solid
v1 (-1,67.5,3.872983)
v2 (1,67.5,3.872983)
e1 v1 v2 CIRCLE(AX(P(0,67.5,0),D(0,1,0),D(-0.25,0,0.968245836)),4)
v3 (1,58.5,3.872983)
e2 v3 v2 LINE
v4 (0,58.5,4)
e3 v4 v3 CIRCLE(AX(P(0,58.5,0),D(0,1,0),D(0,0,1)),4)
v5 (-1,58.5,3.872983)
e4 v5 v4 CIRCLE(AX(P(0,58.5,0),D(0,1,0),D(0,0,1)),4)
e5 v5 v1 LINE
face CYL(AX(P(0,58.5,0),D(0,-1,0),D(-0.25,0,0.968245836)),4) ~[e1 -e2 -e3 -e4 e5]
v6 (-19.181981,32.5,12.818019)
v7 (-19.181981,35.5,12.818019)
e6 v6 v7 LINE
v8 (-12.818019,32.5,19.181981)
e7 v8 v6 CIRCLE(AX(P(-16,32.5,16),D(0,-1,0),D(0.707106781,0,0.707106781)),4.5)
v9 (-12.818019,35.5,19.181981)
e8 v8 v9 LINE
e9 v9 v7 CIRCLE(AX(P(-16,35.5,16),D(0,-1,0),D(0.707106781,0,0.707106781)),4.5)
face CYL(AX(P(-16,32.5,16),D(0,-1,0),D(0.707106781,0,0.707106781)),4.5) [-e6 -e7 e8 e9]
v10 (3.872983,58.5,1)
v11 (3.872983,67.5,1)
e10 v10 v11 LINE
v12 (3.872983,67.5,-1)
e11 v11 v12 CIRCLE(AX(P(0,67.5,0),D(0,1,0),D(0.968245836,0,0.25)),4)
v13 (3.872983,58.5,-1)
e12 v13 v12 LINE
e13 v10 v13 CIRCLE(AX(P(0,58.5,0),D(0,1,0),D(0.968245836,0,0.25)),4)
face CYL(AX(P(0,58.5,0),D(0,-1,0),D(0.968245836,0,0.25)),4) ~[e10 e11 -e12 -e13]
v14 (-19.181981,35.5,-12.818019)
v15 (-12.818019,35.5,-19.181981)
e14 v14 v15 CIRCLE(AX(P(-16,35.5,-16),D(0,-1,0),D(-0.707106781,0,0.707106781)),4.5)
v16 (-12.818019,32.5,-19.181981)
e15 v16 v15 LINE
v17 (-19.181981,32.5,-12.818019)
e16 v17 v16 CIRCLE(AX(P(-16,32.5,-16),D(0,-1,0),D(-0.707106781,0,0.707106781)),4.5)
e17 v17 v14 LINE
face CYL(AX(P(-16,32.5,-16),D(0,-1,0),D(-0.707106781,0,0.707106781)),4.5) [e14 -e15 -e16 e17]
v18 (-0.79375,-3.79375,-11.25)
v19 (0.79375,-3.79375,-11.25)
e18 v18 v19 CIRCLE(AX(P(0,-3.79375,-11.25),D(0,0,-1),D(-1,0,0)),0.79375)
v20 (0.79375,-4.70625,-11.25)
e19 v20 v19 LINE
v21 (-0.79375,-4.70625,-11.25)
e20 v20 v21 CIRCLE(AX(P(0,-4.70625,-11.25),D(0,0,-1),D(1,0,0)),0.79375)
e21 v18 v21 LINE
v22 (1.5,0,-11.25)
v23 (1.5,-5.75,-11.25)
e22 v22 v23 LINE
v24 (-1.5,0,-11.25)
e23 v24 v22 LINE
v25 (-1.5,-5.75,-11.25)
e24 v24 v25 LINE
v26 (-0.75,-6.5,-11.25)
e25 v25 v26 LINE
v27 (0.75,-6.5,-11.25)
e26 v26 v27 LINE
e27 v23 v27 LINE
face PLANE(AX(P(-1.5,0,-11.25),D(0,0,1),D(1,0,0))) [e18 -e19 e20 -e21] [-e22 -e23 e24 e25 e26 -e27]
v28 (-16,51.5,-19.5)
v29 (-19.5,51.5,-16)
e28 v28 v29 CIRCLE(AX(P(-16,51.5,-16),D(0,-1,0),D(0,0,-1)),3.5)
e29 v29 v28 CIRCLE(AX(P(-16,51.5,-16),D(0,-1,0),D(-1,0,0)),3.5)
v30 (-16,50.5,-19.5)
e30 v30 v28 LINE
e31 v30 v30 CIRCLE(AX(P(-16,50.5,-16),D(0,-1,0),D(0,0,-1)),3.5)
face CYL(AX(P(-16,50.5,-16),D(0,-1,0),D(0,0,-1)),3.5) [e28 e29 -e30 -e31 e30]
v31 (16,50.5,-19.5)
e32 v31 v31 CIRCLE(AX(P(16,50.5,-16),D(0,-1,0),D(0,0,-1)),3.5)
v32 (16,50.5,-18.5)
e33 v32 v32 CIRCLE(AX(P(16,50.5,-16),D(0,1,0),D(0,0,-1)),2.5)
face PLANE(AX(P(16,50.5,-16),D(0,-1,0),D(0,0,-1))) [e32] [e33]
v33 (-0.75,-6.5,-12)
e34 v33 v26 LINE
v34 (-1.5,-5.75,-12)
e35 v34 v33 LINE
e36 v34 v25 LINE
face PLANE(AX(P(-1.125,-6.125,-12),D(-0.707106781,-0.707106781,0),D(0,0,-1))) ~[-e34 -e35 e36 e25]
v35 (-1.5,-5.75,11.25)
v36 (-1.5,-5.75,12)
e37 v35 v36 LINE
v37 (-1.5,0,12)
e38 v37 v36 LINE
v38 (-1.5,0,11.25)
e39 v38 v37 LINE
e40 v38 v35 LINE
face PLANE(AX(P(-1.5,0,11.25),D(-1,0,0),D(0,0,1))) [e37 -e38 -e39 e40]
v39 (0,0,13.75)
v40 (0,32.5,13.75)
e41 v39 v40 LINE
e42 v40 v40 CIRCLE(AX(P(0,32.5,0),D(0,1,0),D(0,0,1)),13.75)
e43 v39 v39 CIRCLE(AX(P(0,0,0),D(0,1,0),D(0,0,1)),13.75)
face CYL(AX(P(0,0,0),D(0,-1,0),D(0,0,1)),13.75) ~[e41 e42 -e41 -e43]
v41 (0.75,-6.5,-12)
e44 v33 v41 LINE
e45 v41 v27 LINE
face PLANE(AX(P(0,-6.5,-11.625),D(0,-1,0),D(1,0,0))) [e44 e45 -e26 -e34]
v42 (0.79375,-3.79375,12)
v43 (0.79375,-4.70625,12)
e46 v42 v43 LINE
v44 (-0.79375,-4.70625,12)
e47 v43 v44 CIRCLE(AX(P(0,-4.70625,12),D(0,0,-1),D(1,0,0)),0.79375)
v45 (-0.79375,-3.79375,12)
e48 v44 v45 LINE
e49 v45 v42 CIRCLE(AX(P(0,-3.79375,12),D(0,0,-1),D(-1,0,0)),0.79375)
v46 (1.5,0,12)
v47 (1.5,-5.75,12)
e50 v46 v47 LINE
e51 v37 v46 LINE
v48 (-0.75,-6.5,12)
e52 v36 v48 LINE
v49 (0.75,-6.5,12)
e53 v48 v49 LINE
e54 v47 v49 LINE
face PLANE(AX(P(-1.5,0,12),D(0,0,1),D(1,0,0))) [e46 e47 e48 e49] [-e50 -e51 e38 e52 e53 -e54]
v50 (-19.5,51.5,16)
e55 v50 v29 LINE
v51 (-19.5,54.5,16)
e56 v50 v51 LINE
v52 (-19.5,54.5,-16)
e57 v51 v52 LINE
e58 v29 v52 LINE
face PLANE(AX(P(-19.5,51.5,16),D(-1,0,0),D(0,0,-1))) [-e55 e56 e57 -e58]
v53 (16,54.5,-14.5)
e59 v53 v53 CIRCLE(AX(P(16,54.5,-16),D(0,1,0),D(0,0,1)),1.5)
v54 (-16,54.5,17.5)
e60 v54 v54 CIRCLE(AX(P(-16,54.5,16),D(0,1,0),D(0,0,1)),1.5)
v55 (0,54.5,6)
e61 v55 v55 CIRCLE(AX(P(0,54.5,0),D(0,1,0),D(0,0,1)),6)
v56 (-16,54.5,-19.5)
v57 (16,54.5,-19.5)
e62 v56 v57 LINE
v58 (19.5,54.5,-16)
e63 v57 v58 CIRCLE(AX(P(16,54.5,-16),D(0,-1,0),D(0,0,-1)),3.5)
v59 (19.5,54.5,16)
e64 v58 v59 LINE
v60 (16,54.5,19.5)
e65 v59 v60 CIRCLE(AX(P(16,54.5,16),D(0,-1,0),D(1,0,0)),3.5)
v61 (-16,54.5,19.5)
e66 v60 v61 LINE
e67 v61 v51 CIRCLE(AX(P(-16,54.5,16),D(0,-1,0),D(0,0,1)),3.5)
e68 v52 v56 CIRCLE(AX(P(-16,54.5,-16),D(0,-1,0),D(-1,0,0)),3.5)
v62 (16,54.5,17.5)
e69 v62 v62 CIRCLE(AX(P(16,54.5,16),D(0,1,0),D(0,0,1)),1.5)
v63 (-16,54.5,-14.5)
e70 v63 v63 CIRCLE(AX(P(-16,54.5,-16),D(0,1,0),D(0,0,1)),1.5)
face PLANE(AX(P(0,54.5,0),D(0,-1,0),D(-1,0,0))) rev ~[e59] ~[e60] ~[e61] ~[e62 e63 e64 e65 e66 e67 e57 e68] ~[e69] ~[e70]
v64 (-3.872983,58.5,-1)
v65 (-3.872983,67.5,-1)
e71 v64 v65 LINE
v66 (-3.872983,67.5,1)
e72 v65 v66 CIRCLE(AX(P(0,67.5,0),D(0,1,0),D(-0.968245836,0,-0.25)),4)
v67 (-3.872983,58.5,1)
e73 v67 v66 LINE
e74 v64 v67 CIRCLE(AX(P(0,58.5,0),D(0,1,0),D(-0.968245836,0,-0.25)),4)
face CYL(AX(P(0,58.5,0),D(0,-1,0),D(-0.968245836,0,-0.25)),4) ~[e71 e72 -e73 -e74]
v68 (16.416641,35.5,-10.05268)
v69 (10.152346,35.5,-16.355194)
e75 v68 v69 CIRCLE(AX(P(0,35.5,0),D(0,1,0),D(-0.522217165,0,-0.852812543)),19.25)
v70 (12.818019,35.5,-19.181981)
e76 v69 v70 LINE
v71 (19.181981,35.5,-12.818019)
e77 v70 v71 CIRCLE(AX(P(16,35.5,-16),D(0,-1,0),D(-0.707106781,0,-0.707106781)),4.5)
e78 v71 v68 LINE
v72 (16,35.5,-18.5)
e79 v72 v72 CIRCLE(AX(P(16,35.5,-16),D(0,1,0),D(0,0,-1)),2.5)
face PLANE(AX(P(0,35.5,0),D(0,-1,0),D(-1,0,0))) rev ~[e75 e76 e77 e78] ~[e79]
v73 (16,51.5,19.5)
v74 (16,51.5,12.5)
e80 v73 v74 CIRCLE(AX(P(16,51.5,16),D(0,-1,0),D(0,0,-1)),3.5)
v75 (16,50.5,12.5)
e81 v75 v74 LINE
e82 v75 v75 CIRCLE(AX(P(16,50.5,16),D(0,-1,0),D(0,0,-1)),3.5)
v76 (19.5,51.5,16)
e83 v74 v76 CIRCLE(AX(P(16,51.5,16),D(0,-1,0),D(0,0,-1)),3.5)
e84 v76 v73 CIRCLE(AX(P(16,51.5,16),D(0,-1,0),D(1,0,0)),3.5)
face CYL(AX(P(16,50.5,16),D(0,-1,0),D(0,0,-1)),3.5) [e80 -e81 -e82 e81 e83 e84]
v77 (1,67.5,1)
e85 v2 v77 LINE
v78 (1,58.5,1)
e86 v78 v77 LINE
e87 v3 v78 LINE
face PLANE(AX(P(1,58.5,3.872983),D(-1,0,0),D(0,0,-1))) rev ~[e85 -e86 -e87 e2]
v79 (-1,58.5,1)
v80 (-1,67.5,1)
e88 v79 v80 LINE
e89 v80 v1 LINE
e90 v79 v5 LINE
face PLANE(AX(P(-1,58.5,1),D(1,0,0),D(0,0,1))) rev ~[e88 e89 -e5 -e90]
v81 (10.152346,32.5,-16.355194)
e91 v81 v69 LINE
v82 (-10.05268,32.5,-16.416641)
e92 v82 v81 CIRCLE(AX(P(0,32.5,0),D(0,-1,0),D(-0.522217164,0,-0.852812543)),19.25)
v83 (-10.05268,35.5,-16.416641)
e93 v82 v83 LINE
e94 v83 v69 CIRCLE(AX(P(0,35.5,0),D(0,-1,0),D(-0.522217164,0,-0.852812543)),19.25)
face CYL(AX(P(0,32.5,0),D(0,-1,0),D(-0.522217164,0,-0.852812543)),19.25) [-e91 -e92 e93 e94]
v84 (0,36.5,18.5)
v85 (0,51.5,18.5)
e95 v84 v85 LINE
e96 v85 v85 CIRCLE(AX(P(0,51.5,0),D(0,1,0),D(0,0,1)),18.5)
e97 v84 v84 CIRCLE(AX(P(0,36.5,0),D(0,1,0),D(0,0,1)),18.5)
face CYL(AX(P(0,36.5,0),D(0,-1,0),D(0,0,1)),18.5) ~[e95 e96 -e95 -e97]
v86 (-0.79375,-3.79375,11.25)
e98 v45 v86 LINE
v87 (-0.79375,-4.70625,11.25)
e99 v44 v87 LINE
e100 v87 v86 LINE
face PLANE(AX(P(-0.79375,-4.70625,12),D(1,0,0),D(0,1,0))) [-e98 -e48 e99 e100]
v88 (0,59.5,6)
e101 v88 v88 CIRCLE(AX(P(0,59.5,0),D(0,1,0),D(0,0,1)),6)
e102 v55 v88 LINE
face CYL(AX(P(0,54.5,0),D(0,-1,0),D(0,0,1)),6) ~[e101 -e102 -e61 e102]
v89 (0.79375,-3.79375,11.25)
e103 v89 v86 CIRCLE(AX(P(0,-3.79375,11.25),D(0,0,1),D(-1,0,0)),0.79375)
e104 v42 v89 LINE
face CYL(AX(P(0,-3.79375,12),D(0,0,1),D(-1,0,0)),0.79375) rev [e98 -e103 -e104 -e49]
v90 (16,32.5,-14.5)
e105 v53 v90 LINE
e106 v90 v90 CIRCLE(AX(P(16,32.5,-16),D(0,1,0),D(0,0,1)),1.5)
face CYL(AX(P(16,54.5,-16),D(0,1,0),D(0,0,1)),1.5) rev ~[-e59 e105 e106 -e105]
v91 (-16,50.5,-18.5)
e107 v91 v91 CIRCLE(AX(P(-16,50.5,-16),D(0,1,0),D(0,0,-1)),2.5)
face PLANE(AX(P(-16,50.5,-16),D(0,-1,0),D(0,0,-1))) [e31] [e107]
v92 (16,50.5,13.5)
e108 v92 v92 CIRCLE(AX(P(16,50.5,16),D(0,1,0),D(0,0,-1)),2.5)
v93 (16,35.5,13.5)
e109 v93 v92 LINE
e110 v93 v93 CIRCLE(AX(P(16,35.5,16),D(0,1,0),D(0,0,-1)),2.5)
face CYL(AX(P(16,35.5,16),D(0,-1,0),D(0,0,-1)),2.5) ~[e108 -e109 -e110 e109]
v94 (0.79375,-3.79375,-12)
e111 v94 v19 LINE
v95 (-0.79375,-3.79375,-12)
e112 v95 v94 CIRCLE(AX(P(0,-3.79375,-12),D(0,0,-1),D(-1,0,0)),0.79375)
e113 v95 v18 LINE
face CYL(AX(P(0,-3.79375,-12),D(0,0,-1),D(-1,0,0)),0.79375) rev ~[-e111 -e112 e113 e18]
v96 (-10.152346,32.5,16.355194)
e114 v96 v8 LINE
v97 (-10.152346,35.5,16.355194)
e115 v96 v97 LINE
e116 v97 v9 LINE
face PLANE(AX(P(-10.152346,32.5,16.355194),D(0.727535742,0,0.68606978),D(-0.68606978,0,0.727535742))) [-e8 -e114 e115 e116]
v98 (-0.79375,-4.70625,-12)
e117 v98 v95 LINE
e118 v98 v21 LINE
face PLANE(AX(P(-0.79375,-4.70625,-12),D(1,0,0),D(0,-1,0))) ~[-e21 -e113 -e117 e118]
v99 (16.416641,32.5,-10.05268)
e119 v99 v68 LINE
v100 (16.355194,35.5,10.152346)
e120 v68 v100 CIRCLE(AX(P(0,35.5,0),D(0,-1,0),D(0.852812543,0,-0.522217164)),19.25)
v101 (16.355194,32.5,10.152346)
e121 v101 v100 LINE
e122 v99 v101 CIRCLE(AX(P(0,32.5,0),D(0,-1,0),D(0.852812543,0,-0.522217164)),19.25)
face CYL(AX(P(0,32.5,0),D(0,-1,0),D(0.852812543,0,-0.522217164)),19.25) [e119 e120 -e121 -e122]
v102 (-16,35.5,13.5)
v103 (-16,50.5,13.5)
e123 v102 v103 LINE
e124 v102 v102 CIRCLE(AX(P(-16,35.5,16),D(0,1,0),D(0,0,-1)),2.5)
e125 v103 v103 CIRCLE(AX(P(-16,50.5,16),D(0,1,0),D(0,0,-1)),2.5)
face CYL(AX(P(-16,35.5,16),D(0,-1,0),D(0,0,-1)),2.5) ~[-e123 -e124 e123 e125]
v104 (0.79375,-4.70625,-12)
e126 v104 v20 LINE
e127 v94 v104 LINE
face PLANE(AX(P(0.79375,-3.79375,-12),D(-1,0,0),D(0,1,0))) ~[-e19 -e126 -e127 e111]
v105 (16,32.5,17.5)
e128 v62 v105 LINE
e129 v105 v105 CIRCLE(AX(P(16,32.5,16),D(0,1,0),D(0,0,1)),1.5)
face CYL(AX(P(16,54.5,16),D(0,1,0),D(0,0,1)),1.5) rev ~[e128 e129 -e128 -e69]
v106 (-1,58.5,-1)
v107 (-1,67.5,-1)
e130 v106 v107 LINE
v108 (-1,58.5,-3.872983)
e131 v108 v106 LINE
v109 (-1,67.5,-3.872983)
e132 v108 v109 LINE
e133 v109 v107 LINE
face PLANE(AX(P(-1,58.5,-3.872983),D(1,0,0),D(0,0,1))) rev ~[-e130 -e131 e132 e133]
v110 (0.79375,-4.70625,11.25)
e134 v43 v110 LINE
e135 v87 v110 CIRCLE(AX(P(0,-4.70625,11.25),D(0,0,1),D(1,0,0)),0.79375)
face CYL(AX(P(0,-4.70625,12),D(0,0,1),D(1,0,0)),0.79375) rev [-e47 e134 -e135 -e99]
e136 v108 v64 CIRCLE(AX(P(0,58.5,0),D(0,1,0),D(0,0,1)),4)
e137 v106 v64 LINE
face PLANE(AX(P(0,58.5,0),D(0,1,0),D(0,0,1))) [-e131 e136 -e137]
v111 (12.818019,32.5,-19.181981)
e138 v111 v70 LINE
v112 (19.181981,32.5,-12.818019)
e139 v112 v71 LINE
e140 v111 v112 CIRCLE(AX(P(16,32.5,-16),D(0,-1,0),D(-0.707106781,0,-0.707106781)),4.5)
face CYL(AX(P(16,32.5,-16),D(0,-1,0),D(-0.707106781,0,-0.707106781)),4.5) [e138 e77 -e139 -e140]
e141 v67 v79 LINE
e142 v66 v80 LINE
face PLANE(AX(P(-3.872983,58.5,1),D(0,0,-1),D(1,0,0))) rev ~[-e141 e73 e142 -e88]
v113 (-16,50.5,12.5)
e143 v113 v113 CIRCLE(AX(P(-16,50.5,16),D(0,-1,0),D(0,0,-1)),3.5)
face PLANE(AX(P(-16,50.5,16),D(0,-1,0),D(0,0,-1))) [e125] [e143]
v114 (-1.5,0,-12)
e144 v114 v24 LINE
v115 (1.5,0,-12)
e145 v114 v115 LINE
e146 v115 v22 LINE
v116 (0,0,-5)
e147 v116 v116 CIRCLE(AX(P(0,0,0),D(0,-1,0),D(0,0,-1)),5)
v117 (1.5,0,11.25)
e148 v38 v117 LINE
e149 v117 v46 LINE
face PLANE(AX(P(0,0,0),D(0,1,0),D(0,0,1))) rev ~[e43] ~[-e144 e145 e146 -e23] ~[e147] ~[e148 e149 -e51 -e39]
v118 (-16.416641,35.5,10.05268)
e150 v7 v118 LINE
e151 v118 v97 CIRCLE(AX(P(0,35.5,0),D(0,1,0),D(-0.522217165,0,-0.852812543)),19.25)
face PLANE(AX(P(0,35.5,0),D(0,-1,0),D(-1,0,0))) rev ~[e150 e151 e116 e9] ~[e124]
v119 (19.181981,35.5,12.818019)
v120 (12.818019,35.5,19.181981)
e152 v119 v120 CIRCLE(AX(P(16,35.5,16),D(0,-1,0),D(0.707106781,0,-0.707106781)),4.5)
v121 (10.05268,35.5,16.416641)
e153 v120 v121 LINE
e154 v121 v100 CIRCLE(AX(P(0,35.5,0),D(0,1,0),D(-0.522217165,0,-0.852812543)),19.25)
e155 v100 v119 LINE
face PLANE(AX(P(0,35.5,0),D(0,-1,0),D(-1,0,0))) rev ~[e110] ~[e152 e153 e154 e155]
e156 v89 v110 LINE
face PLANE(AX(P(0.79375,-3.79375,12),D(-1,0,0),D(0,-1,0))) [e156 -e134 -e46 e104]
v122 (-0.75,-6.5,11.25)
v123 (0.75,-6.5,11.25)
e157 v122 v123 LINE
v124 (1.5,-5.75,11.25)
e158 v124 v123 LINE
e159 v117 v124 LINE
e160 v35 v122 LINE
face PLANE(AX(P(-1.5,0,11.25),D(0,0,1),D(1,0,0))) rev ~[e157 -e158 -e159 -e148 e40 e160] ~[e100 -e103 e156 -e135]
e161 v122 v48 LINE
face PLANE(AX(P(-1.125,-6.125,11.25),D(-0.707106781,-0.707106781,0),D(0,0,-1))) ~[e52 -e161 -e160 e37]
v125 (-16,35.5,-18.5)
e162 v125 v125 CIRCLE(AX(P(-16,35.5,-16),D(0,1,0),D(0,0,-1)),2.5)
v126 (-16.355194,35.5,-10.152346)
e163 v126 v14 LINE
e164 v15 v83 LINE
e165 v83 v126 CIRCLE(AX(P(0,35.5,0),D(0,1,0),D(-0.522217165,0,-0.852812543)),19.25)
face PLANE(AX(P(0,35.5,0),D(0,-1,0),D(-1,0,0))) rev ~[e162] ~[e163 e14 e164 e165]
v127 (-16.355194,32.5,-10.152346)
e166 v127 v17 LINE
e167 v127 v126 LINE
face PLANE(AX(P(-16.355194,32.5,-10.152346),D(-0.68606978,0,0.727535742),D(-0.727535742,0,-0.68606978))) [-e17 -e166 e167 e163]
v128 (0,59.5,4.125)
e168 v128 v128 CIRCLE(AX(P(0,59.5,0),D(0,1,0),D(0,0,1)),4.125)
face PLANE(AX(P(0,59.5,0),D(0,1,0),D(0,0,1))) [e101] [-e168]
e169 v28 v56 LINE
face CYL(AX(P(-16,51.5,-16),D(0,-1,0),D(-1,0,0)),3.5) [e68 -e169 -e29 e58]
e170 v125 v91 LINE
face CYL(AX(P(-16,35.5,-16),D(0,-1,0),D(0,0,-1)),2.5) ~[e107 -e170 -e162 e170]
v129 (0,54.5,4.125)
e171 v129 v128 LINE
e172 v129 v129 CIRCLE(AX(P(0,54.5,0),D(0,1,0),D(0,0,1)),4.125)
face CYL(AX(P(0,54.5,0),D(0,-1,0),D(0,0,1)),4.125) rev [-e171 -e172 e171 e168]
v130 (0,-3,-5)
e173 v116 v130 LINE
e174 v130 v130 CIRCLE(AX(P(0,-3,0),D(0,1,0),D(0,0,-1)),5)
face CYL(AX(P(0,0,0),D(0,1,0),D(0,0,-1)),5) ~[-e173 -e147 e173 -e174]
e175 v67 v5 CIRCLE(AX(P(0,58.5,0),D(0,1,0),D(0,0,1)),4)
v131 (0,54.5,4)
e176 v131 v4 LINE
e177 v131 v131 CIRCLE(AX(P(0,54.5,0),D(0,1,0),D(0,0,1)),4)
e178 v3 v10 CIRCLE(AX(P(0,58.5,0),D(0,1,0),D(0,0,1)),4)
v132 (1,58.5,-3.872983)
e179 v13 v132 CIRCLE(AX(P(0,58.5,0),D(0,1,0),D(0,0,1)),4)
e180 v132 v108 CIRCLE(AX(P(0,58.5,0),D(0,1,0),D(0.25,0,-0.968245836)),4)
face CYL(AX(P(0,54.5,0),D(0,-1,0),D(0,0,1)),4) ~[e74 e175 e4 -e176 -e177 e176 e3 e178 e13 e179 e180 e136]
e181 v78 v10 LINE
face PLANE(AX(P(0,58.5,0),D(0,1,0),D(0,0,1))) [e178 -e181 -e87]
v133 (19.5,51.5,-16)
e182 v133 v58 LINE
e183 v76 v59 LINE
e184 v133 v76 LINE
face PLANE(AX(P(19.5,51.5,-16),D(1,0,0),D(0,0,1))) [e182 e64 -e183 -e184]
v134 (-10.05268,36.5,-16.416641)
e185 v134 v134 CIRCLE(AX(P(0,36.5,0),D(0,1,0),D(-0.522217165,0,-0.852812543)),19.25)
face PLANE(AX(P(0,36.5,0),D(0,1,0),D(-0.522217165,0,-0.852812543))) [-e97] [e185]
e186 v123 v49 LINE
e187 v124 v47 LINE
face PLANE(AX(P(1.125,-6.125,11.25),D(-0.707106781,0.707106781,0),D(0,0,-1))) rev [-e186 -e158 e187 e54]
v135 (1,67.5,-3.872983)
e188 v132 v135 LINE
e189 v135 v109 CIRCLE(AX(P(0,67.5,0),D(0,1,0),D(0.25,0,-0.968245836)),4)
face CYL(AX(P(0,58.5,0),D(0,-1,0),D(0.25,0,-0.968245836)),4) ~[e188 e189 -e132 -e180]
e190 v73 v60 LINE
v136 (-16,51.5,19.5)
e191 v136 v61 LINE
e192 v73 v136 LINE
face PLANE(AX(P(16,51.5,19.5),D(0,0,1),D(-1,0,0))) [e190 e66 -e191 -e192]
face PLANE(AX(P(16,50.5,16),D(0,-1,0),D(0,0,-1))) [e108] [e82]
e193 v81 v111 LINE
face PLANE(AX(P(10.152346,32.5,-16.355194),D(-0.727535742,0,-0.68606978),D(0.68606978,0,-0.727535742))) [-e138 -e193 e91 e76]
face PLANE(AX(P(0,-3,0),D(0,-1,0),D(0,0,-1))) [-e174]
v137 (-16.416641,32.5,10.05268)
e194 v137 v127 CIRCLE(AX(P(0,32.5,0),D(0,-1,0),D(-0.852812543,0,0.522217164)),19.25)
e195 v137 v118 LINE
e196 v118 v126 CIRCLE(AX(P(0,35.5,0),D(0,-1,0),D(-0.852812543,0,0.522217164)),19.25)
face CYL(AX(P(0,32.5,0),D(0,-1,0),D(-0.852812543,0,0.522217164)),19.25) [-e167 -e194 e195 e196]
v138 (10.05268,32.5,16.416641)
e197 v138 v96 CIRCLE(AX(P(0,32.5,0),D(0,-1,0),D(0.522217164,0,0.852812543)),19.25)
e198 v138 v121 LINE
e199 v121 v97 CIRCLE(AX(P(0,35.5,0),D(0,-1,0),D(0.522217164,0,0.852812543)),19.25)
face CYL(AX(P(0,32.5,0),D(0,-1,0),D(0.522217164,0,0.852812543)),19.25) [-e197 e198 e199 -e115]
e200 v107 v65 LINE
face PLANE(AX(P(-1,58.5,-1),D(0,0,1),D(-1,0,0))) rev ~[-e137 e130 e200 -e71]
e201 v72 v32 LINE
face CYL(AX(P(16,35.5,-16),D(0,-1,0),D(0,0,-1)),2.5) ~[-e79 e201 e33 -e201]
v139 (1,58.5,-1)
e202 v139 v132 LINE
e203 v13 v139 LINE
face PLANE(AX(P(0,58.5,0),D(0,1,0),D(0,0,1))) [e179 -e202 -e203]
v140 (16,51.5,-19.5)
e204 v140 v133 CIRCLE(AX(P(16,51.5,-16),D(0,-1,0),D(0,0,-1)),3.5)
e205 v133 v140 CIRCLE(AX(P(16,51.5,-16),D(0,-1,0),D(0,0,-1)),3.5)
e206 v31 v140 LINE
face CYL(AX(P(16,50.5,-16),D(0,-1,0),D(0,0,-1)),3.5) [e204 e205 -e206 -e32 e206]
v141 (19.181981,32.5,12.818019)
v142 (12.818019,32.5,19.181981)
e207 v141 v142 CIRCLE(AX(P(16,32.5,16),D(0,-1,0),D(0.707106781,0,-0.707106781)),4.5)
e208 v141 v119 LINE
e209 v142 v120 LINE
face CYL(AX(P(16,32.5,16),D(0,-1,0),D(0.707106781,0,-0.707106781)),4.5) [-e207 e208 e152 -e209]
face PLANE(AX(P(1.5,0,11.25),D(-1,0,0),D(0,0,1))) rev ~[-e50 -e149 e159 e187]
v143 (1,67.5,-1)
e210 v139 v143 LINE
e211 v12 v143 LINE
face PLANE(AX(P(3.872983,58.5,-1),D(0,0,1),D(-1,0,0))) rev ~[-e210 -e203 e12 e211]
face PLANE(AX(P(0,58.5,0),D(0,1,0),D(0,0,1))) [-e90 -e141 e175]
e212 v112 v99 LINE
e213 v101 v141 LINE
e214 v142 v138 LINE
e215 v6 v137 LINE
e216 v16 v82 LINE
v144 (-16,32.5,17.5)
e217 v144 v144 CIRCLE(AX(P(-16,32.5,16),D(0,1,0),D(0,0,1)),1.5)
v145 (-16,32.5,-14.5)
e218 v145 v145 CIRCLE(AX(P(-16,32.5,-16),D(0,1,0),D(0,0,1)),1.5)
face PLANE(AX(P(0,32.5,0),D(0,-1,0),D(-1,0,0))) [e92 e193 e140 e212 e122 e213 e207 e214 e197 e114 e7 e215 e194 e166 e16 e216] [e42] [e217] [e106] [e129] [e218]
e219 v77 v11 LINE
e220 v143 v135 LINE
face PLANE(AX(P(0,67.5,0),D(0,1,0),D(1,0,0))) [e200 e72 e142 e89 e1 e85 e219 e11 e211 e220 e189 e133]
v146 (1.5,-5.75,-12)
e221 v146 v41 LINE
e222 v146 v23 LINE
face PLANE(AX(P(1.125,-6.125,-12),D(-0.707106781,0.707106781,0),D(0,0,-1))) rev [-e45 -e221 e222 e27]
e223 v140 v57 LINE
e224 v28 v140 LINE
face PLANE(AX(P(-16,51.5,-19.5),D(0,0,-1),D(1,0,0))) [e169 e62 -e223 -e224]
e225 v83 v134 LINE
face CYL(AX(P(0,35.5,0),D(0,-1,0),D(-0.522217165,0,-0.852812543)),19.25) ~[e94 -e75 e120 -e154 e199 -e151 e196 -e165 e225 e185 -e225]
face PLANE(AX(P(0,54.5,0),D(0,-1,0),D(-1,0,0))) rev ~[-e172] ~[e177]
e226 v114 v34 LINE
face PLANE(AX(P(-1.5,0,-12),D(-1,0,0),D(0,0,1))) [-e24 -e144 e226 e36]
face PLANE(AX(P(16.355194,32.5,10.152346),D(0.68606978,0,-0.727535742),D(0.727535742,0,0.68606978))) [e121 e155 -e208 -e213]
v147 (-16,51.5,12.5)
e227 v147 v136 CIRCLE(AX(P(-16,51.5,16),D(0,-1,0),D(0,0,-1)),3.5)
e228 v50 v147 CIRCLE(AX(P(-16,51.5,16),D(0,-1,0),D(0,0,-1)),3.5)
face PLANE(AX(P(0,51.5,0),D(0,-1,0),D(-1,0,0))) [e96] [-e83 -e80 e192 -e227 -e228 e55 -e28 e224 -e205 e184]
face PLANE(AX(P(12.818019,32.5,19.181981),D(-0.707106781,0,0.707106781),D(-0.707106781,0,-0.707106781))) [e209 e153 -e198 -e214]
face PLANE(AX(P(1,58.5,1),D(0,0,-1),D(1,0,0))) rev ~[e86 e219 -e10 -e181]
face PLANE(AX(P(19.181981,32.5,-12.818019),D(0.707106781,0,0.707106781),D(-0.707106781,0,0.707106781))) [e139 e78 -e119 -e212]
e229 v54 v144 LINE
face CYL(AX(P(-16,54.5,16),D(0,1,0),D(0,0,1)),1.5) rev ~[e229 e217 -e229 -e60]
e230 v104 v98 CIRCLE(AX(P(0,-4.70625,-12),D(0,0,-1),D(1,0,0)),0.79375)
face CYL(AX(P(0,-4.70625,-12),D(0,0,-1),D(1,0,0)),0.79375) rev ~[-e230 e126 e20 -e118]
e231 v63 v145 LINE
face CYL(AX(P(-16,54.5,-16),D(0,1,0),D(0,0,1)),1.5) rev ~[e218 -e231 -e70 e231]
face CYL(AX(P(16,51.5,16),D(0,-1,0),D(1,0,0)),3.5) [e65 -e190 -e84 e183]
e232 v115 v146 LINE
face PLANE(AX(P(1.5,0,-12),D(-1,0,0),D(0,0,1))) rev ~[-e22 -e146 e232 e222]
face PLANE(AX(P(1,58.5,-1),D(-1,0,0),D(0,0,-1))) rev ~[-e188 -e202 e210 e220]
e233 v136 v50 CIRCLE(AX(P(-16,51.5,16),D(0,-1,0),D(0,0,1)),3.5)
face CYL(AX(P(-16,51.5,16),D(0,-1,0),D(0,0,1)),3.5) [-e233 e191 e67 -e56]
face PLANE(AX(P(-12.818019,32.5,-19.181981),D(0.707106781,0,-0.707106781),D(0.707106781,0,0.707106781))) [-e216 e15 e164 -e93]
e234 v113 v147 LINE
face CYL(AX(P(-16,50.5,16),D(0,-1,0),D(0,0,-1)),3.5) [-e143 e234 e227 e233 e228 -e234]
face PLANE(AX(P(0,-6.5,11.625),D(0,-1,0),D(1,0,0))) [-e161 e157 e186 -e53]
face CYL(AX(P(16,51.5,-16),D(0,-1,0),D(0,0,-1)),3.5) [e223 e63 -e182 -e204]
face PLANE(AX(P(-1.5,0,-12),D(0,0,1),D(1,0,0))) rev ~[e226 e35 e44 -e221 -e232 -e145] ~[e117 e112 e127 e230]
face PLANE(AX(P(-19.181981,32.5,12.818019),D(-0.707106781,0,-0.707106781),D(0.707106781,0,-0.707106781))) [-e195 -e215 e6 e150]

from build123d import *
from build123d.topology import SkipClean

# Parameters (mm, degrees)
SKETCH1_R                   = 13.75
MOTOR_BODY_DEPTH            = 32.5
SKETCH7_R                   = 5
MOTOR_TIP_DEPTH             = 3
SKETCH8_W                   = 3
SKETCH8_H                   = 0.75
MOTOR_CONTACTS_DEPTH        = 6.5
MOTOR_CONTACTS_CHAMFER_SIZE = 0.75
MOTOR_CONTACTS_HOLE_DEPTH   = 23.25
CONNECTION_BOT_1_DEPTH      = 3
SKETCH14_R                  = 19.25
CONNECTION_BOT_2_DEPTH      = 1
SKETCH10_R                  = 18.5
CONNECTION_MID_DEPTH        = 15
CONNECTION_TOP_1_DEPTH      = 3
CONNECTION_TOP_2_START      = 1
SKETCH12_R                  = 3.5
CONNECTION_TOP_2_DEPTH      = 1
SKETCH13_R                  = 2.5
SCREW_HOLDERS_DEPTH         = 15
SKETCH3_R                   = 1.5
SCREW_HOLES_DEPTH           = 22
SKETCH15_R                  = 6
SKETCH15_R_2                = 4.125
MOTOR_SHAFT_GUIDE_DEPTH     = 5
SKETCH16_R                  = 4
MOTOR_SHAFT_BOT_DEPTH       = 4
MOTOR_SHAFT_DEPTH           = 9


with BuildPart() as part:
    # Sketch1 → motor_body (new body)
    with BuildSketch(Plane(origin=(0, 0, 0), x_dir=(1, 0, 0), z_dir=(0, 1, 0))):
        with Locations(Location((0, 0, 0), (0, 0, 270))):
            Circle(SKETCH1_R)
    extrude(amount=MOTOR_BODY_DEPTH)

    # Sketch7 → motor_tip (add)
    with BuildSketch(Plane.XZ):
        with Locations(Location((0, 0, 0), (0, 0, 270))):
            Circle(SKETCH7_R)
    extrude(amount=MOTOR_TIP_DEPTH)

    # Sketch8 → motor_contacts (add)
    with BuildSketch(Plane.XZ):
        with Locations((0, 11.625)):
            Rectangle(SKETCH8_W, SKETCH8_H)
        with Locations((0, -11.625)):
            Rectangle(SKETCH8_W, SKETCH8_H)
    extrude(amount=MOTOR_CONTACTS_DEPTH)

    # motor_contacts_chamfer
    motor_contacts_chamfer_edges = [part.edges().sort_by_distance(p)[0] for p in [
        (1.5, -6.5, 11.625),
        (-1.5, -6.5, 11.625),
        (-1.5, -6.5, -11.625),
        (1.5, -6.5, -11.625),
    ]]
    chamfer(motor_contacts_chamfer_edges, length=MOTOR_CONTACTS_CHAMFER_SIZE)

    # Sketch9 → motor_contacts_hole (cut)
    with BuildSketch(Plane.XY.offset(12)):
        with BuildLine():
            Line((0.79375, -3.79375), (0.79375, -4.70625))
            ThreePointArc((0.79375, -4.70625), (0, -5.5), (-0.79375, -4.70625))
            Line((-0.79375, -4.70625), (-0.79375, -3.79375))
            ThreePointArc((-0.79375, -3.79375), (0, -3), (0.79375, -3.79375))
        make_face()
    motor_contacts_hole = extrude(amount=-MOTOR_CONTACTS_HOLE_DEPTH, mode=Mode.SUBTRACT)

    # motor_contacts_hole2: motor_contacts_hole across plane
    add(motor_contacts_hole.mirror(Plane.XY), mode=Mode.SUBTRACT)

    # Sketch2 → connection_bot_1 (add)
    with BuildSketch(Plane(origin=(0, 32.5, 0), x_dir=(1, 0, 0), z_dir=(0, 1, 0))):
        with BuildLine():
            Line((19.181980515, 12.818019485), (16.416641448, 10.052680417))
            ThreePointArc((16.416641448, 10.052680417), (19.24991098, -0.058542722), (16.355194034, -10.152345941))
            Line((16.355194034, -10.152345941), (19.181980515, -12.818019485))
            ThreePointArc((19.181980515, -12.818019485), (19.181980515, -19.181980515), (12.818019485, -19.181980515))
            Line((12.818019485, -19.181980515), (10.052680417, -16.416641448))
            ThreePointArc((10.052680417, -16.416641448), (-0.058542722, -19.24991098), (-10.152345941, -16.355194034))
            Line((-10.152345941, -16.355194034), (-12.818019485, -19.181980515))
            ThreePointArc((-12.818019485, -19.181980515), (-19.181980515, -19.181980515), (-19.181980515, -12.818019485))
            Line((-19.181980515, -12.818019485), (-16.416641448, -10.052680417))
            ThreePointArc((-16.416641448, -10.052680417), (-19.24991098, 0.058542722), (-16.355194034, 10.152345941))
            Line((-16.355194034, 10.152345941), (-19.181980515, 12.818019485))
            ThreePointArc((-19.181980515, 12.818019485), (-19.181980515, 19.181980515), (-12.818019485, 19.181980515))
            Line((-12.818019485, 19.181980515), (-10.052680417, 16.416641448))
            ThreePointArc((-10.052680417, 16.416641448), (0.058542722, 19.24991098), (10.152345941, 16.355194034))
            Line((10.152345941, 16.355194034), (12.818019485, 19.181980515))
            ThreePointArc((12.818019485, 19.181980515), (19.181980515, 19.181980515), (19.181980515, 12.818019485))
        make_face()
    extrude(amount=CONNECTION_BOT_1_DEPTH)

    # Sketch14 → connection_bot_2 (add)
    with BuildSketch(Plane(origin=(0, 35.5, 0), x_dir=(1, 0, 0), z_dir=(0, 1, 0))):
        with Locations(Location((0, 0, 0), (0, 0, 121.48109236))):
            Circle(SKETCH14_R)
    extrude(amount=CONNECTION_BOT_2_DEPTH)

    # Sketch10 → connection_mid (add)
    with BuildSketch(Plane(origin=(0, 36.5, 0), x_dir=(1, 0, 0), z_dir=(0, 1, 0))):
        with Locations(Location((0, 0, 0), (0, 0, 270))):
            Circle(SKETCH10_R)
    extrude(amount=CONNECTION_MID_DEPTH)

    # Sketch11 → connection_top_1 (add)
    with SkipClean():  # the faces are left unmerged after this step: merging them gives an invalid solid
        with BuildSketch(Plane(origin=(0, 51.5, 0), x_dir=(1, 0, 0), z_dir=(0, 1, 0))):
            with BuildLine():
                Line((-16, 19.5), (16, 19.5))
                ThreePointArc((16, 19.5), (18.474873734, 18.474873734), (19.5, 16))
                Line((19.5, 16), (19.5, -16))
                ThreePointArc((19.5, -16), (18.474873734, -18.474873734), (16, -19.5))
                Line((16, -19.5), (-16, -19.5))
                ThreePointArc((-16, -19.5), (-18.474873734, -18.474873734), (-19.5, -16))
                Line((-19.5, -16), (-19.5, 16))
                ThreePointArc((-19.5, 16), (-18.474873734, 18.474873734), (-16, 19.5))
            make_face()
        extrude(amount=CONNECTION_TOP_1_DEPTH)

    # Sketch12 → connection_top_2 (add)
    with SkipClean():  # the faces are left unmerged after this step: merging them gives an invalid solid
        with BuildSketch(Plane.XZ.offset(-51.5).offset(CONNECTION_TOP_2_START)):
            with Locations(Location((-16, 16, 0), (0, 0, 270))):
                Circle(SKETCH12_R)
            with Locations(Location((16, 16, 0), (0, 0, 270))):
                Circle(SKETCH12_R)
            with Locations(Location((16, -16, 0), (0, 0, 270))):
                Circle(SKETCH12_R)
            with Locations(Location((-16, -16, 0), (0, 0, 270))):
                Circle(SKETCH12_R)
        extrude(amount=-CONNECTION_TOP_2_DEPTH)

    # Sketch13 → screw_holders (add)
    with SkipClean():  # the faces are left unmerged after this step: merging them gives an invalid solid
        with BuildSketch(Plane(origin=(0, 35.5, 0), x_dir=(1, 0, 0), z_dir=(0, 1, 0))):
            with Locations(Location((-16, -16, 0), (0, 0, 90))):
                Circle(SKETCH13_R)
            with Locations(Location((-16, 16, 0), (0, 0, 90))):
                Circle(SKETCH13_R)
            with Locations(Location((16, 16, 0), (0, 0, 90))):
                Circle(SKETCH13_R)
            with Locations(Location((16, -16, 0), (0, 0, 90))):
                Circle(SKETCH13_R)
        extrude(amount=SCREW_HOLDERS_DEPTH)

    # Sketch3 → screw_holes (cut)
    with SkipClean():  # the faces are left unmerged after this step: merging them gives an invalid solid
        with BuildSketch(Plane(origin=(0, 54.5, 0), x_dir=(1, 0, 0), z_dir=(0, 1, 0))):
            with Locations(Location((-16, 16, 0), (0, 0, 270))):
                Circle(SKETCH3_R)
            with Locations(Location((16, 16, 0), (0, 0, 270))):
                Circle(SKETCH3_R)
            with Locations(Location((16, -16, 0), (0, 0, 270))):
                Circle(SKETCH3_R)
            with Locations(Location((-16, -16, 0), (0, 0, 270))):
                Circle(SKETCH3_R)
        extrude(amount=-SCREW_HOLES_DEPTH, mode=Mode.SUBTRACT)

    # Sketch15 → motor_shaft_guide (add)
    with SkipClean():  # the faces are left unmerged after this step: merging them gives an invalid solid
        with BuildSketch(Plane(origin=(0, 54.5, 0), x_dir=(1, 0, 0), z_dir=(0, 1, 0))):
            with Locations(Location((0, 0, 0), (0, 0, 270))):
                Circle(SKETCH15_R)
            with Locations(Location((0, 0, 0), (0, 0, 270))):
                Circle(SKETCH15_R_2, mode=Mode.SUBTRACT)
        extrude(amount=MOTOR_SHAFT_GUIDE_DEPTH)

    # Sketch16 → motor_shaft_bot (add)
    with SkipClean():  # the faces are left unmerged after this step: merging them gives an invalid solid
        with BuildSketch(Plane(origin=(0, 54.5, 0), x_dir=(1, 0, 0), z_dir=(0, 1, 0))):
            with Locations(Location((0, 0, 0), (0, 0, 270))):
                Circle(SKETCH16_R)
        extrude(amount=MOTOR_SHAFT_BOT_DEPTH)

    # Sketch17 → motor_shaft (add)
    with SkipClean():  # the faces are left unmerged after this step: merging them gives an invalid solid
        with BuildSketch(Plane(origin=(0, 58.5, 0), x_dir=(1, 0, 0), z_dir=(0, 1, 0))):
            with BuildLine():
                Line((-1, -1), (-1, -3.872983346))
                ThreePointArc((-1, -3.872983346), (0, -4), (1, -3.872983346))
                Line((1, -3.872983346), (1, -1))
                Line((1, -1), (3.872983346, -1))
                ThreePointArc((3.872983346, -1), (4, 0), (3.872983346, 1))
                Line((3.872983346, 1), (1, 1))
                Line((1, 1), (1, 3.872983346))
                ThreePointArc((1, 3.872983346), (0, 4), (-1, 3.872983346))
                Line((-1, 3.872983346), (-1, 1))
                Line((-1, 1), (-3.872983346, 1))
                ThreePointArc((-3.872983346, 1), (-4, 0), (-3.872983346, -1))
                Line((-3.872983346, -1), (-1, -1))
            make_face()
        extrude(amount=MOTOR_SHAFT_DEPTH)


solid = part.part
